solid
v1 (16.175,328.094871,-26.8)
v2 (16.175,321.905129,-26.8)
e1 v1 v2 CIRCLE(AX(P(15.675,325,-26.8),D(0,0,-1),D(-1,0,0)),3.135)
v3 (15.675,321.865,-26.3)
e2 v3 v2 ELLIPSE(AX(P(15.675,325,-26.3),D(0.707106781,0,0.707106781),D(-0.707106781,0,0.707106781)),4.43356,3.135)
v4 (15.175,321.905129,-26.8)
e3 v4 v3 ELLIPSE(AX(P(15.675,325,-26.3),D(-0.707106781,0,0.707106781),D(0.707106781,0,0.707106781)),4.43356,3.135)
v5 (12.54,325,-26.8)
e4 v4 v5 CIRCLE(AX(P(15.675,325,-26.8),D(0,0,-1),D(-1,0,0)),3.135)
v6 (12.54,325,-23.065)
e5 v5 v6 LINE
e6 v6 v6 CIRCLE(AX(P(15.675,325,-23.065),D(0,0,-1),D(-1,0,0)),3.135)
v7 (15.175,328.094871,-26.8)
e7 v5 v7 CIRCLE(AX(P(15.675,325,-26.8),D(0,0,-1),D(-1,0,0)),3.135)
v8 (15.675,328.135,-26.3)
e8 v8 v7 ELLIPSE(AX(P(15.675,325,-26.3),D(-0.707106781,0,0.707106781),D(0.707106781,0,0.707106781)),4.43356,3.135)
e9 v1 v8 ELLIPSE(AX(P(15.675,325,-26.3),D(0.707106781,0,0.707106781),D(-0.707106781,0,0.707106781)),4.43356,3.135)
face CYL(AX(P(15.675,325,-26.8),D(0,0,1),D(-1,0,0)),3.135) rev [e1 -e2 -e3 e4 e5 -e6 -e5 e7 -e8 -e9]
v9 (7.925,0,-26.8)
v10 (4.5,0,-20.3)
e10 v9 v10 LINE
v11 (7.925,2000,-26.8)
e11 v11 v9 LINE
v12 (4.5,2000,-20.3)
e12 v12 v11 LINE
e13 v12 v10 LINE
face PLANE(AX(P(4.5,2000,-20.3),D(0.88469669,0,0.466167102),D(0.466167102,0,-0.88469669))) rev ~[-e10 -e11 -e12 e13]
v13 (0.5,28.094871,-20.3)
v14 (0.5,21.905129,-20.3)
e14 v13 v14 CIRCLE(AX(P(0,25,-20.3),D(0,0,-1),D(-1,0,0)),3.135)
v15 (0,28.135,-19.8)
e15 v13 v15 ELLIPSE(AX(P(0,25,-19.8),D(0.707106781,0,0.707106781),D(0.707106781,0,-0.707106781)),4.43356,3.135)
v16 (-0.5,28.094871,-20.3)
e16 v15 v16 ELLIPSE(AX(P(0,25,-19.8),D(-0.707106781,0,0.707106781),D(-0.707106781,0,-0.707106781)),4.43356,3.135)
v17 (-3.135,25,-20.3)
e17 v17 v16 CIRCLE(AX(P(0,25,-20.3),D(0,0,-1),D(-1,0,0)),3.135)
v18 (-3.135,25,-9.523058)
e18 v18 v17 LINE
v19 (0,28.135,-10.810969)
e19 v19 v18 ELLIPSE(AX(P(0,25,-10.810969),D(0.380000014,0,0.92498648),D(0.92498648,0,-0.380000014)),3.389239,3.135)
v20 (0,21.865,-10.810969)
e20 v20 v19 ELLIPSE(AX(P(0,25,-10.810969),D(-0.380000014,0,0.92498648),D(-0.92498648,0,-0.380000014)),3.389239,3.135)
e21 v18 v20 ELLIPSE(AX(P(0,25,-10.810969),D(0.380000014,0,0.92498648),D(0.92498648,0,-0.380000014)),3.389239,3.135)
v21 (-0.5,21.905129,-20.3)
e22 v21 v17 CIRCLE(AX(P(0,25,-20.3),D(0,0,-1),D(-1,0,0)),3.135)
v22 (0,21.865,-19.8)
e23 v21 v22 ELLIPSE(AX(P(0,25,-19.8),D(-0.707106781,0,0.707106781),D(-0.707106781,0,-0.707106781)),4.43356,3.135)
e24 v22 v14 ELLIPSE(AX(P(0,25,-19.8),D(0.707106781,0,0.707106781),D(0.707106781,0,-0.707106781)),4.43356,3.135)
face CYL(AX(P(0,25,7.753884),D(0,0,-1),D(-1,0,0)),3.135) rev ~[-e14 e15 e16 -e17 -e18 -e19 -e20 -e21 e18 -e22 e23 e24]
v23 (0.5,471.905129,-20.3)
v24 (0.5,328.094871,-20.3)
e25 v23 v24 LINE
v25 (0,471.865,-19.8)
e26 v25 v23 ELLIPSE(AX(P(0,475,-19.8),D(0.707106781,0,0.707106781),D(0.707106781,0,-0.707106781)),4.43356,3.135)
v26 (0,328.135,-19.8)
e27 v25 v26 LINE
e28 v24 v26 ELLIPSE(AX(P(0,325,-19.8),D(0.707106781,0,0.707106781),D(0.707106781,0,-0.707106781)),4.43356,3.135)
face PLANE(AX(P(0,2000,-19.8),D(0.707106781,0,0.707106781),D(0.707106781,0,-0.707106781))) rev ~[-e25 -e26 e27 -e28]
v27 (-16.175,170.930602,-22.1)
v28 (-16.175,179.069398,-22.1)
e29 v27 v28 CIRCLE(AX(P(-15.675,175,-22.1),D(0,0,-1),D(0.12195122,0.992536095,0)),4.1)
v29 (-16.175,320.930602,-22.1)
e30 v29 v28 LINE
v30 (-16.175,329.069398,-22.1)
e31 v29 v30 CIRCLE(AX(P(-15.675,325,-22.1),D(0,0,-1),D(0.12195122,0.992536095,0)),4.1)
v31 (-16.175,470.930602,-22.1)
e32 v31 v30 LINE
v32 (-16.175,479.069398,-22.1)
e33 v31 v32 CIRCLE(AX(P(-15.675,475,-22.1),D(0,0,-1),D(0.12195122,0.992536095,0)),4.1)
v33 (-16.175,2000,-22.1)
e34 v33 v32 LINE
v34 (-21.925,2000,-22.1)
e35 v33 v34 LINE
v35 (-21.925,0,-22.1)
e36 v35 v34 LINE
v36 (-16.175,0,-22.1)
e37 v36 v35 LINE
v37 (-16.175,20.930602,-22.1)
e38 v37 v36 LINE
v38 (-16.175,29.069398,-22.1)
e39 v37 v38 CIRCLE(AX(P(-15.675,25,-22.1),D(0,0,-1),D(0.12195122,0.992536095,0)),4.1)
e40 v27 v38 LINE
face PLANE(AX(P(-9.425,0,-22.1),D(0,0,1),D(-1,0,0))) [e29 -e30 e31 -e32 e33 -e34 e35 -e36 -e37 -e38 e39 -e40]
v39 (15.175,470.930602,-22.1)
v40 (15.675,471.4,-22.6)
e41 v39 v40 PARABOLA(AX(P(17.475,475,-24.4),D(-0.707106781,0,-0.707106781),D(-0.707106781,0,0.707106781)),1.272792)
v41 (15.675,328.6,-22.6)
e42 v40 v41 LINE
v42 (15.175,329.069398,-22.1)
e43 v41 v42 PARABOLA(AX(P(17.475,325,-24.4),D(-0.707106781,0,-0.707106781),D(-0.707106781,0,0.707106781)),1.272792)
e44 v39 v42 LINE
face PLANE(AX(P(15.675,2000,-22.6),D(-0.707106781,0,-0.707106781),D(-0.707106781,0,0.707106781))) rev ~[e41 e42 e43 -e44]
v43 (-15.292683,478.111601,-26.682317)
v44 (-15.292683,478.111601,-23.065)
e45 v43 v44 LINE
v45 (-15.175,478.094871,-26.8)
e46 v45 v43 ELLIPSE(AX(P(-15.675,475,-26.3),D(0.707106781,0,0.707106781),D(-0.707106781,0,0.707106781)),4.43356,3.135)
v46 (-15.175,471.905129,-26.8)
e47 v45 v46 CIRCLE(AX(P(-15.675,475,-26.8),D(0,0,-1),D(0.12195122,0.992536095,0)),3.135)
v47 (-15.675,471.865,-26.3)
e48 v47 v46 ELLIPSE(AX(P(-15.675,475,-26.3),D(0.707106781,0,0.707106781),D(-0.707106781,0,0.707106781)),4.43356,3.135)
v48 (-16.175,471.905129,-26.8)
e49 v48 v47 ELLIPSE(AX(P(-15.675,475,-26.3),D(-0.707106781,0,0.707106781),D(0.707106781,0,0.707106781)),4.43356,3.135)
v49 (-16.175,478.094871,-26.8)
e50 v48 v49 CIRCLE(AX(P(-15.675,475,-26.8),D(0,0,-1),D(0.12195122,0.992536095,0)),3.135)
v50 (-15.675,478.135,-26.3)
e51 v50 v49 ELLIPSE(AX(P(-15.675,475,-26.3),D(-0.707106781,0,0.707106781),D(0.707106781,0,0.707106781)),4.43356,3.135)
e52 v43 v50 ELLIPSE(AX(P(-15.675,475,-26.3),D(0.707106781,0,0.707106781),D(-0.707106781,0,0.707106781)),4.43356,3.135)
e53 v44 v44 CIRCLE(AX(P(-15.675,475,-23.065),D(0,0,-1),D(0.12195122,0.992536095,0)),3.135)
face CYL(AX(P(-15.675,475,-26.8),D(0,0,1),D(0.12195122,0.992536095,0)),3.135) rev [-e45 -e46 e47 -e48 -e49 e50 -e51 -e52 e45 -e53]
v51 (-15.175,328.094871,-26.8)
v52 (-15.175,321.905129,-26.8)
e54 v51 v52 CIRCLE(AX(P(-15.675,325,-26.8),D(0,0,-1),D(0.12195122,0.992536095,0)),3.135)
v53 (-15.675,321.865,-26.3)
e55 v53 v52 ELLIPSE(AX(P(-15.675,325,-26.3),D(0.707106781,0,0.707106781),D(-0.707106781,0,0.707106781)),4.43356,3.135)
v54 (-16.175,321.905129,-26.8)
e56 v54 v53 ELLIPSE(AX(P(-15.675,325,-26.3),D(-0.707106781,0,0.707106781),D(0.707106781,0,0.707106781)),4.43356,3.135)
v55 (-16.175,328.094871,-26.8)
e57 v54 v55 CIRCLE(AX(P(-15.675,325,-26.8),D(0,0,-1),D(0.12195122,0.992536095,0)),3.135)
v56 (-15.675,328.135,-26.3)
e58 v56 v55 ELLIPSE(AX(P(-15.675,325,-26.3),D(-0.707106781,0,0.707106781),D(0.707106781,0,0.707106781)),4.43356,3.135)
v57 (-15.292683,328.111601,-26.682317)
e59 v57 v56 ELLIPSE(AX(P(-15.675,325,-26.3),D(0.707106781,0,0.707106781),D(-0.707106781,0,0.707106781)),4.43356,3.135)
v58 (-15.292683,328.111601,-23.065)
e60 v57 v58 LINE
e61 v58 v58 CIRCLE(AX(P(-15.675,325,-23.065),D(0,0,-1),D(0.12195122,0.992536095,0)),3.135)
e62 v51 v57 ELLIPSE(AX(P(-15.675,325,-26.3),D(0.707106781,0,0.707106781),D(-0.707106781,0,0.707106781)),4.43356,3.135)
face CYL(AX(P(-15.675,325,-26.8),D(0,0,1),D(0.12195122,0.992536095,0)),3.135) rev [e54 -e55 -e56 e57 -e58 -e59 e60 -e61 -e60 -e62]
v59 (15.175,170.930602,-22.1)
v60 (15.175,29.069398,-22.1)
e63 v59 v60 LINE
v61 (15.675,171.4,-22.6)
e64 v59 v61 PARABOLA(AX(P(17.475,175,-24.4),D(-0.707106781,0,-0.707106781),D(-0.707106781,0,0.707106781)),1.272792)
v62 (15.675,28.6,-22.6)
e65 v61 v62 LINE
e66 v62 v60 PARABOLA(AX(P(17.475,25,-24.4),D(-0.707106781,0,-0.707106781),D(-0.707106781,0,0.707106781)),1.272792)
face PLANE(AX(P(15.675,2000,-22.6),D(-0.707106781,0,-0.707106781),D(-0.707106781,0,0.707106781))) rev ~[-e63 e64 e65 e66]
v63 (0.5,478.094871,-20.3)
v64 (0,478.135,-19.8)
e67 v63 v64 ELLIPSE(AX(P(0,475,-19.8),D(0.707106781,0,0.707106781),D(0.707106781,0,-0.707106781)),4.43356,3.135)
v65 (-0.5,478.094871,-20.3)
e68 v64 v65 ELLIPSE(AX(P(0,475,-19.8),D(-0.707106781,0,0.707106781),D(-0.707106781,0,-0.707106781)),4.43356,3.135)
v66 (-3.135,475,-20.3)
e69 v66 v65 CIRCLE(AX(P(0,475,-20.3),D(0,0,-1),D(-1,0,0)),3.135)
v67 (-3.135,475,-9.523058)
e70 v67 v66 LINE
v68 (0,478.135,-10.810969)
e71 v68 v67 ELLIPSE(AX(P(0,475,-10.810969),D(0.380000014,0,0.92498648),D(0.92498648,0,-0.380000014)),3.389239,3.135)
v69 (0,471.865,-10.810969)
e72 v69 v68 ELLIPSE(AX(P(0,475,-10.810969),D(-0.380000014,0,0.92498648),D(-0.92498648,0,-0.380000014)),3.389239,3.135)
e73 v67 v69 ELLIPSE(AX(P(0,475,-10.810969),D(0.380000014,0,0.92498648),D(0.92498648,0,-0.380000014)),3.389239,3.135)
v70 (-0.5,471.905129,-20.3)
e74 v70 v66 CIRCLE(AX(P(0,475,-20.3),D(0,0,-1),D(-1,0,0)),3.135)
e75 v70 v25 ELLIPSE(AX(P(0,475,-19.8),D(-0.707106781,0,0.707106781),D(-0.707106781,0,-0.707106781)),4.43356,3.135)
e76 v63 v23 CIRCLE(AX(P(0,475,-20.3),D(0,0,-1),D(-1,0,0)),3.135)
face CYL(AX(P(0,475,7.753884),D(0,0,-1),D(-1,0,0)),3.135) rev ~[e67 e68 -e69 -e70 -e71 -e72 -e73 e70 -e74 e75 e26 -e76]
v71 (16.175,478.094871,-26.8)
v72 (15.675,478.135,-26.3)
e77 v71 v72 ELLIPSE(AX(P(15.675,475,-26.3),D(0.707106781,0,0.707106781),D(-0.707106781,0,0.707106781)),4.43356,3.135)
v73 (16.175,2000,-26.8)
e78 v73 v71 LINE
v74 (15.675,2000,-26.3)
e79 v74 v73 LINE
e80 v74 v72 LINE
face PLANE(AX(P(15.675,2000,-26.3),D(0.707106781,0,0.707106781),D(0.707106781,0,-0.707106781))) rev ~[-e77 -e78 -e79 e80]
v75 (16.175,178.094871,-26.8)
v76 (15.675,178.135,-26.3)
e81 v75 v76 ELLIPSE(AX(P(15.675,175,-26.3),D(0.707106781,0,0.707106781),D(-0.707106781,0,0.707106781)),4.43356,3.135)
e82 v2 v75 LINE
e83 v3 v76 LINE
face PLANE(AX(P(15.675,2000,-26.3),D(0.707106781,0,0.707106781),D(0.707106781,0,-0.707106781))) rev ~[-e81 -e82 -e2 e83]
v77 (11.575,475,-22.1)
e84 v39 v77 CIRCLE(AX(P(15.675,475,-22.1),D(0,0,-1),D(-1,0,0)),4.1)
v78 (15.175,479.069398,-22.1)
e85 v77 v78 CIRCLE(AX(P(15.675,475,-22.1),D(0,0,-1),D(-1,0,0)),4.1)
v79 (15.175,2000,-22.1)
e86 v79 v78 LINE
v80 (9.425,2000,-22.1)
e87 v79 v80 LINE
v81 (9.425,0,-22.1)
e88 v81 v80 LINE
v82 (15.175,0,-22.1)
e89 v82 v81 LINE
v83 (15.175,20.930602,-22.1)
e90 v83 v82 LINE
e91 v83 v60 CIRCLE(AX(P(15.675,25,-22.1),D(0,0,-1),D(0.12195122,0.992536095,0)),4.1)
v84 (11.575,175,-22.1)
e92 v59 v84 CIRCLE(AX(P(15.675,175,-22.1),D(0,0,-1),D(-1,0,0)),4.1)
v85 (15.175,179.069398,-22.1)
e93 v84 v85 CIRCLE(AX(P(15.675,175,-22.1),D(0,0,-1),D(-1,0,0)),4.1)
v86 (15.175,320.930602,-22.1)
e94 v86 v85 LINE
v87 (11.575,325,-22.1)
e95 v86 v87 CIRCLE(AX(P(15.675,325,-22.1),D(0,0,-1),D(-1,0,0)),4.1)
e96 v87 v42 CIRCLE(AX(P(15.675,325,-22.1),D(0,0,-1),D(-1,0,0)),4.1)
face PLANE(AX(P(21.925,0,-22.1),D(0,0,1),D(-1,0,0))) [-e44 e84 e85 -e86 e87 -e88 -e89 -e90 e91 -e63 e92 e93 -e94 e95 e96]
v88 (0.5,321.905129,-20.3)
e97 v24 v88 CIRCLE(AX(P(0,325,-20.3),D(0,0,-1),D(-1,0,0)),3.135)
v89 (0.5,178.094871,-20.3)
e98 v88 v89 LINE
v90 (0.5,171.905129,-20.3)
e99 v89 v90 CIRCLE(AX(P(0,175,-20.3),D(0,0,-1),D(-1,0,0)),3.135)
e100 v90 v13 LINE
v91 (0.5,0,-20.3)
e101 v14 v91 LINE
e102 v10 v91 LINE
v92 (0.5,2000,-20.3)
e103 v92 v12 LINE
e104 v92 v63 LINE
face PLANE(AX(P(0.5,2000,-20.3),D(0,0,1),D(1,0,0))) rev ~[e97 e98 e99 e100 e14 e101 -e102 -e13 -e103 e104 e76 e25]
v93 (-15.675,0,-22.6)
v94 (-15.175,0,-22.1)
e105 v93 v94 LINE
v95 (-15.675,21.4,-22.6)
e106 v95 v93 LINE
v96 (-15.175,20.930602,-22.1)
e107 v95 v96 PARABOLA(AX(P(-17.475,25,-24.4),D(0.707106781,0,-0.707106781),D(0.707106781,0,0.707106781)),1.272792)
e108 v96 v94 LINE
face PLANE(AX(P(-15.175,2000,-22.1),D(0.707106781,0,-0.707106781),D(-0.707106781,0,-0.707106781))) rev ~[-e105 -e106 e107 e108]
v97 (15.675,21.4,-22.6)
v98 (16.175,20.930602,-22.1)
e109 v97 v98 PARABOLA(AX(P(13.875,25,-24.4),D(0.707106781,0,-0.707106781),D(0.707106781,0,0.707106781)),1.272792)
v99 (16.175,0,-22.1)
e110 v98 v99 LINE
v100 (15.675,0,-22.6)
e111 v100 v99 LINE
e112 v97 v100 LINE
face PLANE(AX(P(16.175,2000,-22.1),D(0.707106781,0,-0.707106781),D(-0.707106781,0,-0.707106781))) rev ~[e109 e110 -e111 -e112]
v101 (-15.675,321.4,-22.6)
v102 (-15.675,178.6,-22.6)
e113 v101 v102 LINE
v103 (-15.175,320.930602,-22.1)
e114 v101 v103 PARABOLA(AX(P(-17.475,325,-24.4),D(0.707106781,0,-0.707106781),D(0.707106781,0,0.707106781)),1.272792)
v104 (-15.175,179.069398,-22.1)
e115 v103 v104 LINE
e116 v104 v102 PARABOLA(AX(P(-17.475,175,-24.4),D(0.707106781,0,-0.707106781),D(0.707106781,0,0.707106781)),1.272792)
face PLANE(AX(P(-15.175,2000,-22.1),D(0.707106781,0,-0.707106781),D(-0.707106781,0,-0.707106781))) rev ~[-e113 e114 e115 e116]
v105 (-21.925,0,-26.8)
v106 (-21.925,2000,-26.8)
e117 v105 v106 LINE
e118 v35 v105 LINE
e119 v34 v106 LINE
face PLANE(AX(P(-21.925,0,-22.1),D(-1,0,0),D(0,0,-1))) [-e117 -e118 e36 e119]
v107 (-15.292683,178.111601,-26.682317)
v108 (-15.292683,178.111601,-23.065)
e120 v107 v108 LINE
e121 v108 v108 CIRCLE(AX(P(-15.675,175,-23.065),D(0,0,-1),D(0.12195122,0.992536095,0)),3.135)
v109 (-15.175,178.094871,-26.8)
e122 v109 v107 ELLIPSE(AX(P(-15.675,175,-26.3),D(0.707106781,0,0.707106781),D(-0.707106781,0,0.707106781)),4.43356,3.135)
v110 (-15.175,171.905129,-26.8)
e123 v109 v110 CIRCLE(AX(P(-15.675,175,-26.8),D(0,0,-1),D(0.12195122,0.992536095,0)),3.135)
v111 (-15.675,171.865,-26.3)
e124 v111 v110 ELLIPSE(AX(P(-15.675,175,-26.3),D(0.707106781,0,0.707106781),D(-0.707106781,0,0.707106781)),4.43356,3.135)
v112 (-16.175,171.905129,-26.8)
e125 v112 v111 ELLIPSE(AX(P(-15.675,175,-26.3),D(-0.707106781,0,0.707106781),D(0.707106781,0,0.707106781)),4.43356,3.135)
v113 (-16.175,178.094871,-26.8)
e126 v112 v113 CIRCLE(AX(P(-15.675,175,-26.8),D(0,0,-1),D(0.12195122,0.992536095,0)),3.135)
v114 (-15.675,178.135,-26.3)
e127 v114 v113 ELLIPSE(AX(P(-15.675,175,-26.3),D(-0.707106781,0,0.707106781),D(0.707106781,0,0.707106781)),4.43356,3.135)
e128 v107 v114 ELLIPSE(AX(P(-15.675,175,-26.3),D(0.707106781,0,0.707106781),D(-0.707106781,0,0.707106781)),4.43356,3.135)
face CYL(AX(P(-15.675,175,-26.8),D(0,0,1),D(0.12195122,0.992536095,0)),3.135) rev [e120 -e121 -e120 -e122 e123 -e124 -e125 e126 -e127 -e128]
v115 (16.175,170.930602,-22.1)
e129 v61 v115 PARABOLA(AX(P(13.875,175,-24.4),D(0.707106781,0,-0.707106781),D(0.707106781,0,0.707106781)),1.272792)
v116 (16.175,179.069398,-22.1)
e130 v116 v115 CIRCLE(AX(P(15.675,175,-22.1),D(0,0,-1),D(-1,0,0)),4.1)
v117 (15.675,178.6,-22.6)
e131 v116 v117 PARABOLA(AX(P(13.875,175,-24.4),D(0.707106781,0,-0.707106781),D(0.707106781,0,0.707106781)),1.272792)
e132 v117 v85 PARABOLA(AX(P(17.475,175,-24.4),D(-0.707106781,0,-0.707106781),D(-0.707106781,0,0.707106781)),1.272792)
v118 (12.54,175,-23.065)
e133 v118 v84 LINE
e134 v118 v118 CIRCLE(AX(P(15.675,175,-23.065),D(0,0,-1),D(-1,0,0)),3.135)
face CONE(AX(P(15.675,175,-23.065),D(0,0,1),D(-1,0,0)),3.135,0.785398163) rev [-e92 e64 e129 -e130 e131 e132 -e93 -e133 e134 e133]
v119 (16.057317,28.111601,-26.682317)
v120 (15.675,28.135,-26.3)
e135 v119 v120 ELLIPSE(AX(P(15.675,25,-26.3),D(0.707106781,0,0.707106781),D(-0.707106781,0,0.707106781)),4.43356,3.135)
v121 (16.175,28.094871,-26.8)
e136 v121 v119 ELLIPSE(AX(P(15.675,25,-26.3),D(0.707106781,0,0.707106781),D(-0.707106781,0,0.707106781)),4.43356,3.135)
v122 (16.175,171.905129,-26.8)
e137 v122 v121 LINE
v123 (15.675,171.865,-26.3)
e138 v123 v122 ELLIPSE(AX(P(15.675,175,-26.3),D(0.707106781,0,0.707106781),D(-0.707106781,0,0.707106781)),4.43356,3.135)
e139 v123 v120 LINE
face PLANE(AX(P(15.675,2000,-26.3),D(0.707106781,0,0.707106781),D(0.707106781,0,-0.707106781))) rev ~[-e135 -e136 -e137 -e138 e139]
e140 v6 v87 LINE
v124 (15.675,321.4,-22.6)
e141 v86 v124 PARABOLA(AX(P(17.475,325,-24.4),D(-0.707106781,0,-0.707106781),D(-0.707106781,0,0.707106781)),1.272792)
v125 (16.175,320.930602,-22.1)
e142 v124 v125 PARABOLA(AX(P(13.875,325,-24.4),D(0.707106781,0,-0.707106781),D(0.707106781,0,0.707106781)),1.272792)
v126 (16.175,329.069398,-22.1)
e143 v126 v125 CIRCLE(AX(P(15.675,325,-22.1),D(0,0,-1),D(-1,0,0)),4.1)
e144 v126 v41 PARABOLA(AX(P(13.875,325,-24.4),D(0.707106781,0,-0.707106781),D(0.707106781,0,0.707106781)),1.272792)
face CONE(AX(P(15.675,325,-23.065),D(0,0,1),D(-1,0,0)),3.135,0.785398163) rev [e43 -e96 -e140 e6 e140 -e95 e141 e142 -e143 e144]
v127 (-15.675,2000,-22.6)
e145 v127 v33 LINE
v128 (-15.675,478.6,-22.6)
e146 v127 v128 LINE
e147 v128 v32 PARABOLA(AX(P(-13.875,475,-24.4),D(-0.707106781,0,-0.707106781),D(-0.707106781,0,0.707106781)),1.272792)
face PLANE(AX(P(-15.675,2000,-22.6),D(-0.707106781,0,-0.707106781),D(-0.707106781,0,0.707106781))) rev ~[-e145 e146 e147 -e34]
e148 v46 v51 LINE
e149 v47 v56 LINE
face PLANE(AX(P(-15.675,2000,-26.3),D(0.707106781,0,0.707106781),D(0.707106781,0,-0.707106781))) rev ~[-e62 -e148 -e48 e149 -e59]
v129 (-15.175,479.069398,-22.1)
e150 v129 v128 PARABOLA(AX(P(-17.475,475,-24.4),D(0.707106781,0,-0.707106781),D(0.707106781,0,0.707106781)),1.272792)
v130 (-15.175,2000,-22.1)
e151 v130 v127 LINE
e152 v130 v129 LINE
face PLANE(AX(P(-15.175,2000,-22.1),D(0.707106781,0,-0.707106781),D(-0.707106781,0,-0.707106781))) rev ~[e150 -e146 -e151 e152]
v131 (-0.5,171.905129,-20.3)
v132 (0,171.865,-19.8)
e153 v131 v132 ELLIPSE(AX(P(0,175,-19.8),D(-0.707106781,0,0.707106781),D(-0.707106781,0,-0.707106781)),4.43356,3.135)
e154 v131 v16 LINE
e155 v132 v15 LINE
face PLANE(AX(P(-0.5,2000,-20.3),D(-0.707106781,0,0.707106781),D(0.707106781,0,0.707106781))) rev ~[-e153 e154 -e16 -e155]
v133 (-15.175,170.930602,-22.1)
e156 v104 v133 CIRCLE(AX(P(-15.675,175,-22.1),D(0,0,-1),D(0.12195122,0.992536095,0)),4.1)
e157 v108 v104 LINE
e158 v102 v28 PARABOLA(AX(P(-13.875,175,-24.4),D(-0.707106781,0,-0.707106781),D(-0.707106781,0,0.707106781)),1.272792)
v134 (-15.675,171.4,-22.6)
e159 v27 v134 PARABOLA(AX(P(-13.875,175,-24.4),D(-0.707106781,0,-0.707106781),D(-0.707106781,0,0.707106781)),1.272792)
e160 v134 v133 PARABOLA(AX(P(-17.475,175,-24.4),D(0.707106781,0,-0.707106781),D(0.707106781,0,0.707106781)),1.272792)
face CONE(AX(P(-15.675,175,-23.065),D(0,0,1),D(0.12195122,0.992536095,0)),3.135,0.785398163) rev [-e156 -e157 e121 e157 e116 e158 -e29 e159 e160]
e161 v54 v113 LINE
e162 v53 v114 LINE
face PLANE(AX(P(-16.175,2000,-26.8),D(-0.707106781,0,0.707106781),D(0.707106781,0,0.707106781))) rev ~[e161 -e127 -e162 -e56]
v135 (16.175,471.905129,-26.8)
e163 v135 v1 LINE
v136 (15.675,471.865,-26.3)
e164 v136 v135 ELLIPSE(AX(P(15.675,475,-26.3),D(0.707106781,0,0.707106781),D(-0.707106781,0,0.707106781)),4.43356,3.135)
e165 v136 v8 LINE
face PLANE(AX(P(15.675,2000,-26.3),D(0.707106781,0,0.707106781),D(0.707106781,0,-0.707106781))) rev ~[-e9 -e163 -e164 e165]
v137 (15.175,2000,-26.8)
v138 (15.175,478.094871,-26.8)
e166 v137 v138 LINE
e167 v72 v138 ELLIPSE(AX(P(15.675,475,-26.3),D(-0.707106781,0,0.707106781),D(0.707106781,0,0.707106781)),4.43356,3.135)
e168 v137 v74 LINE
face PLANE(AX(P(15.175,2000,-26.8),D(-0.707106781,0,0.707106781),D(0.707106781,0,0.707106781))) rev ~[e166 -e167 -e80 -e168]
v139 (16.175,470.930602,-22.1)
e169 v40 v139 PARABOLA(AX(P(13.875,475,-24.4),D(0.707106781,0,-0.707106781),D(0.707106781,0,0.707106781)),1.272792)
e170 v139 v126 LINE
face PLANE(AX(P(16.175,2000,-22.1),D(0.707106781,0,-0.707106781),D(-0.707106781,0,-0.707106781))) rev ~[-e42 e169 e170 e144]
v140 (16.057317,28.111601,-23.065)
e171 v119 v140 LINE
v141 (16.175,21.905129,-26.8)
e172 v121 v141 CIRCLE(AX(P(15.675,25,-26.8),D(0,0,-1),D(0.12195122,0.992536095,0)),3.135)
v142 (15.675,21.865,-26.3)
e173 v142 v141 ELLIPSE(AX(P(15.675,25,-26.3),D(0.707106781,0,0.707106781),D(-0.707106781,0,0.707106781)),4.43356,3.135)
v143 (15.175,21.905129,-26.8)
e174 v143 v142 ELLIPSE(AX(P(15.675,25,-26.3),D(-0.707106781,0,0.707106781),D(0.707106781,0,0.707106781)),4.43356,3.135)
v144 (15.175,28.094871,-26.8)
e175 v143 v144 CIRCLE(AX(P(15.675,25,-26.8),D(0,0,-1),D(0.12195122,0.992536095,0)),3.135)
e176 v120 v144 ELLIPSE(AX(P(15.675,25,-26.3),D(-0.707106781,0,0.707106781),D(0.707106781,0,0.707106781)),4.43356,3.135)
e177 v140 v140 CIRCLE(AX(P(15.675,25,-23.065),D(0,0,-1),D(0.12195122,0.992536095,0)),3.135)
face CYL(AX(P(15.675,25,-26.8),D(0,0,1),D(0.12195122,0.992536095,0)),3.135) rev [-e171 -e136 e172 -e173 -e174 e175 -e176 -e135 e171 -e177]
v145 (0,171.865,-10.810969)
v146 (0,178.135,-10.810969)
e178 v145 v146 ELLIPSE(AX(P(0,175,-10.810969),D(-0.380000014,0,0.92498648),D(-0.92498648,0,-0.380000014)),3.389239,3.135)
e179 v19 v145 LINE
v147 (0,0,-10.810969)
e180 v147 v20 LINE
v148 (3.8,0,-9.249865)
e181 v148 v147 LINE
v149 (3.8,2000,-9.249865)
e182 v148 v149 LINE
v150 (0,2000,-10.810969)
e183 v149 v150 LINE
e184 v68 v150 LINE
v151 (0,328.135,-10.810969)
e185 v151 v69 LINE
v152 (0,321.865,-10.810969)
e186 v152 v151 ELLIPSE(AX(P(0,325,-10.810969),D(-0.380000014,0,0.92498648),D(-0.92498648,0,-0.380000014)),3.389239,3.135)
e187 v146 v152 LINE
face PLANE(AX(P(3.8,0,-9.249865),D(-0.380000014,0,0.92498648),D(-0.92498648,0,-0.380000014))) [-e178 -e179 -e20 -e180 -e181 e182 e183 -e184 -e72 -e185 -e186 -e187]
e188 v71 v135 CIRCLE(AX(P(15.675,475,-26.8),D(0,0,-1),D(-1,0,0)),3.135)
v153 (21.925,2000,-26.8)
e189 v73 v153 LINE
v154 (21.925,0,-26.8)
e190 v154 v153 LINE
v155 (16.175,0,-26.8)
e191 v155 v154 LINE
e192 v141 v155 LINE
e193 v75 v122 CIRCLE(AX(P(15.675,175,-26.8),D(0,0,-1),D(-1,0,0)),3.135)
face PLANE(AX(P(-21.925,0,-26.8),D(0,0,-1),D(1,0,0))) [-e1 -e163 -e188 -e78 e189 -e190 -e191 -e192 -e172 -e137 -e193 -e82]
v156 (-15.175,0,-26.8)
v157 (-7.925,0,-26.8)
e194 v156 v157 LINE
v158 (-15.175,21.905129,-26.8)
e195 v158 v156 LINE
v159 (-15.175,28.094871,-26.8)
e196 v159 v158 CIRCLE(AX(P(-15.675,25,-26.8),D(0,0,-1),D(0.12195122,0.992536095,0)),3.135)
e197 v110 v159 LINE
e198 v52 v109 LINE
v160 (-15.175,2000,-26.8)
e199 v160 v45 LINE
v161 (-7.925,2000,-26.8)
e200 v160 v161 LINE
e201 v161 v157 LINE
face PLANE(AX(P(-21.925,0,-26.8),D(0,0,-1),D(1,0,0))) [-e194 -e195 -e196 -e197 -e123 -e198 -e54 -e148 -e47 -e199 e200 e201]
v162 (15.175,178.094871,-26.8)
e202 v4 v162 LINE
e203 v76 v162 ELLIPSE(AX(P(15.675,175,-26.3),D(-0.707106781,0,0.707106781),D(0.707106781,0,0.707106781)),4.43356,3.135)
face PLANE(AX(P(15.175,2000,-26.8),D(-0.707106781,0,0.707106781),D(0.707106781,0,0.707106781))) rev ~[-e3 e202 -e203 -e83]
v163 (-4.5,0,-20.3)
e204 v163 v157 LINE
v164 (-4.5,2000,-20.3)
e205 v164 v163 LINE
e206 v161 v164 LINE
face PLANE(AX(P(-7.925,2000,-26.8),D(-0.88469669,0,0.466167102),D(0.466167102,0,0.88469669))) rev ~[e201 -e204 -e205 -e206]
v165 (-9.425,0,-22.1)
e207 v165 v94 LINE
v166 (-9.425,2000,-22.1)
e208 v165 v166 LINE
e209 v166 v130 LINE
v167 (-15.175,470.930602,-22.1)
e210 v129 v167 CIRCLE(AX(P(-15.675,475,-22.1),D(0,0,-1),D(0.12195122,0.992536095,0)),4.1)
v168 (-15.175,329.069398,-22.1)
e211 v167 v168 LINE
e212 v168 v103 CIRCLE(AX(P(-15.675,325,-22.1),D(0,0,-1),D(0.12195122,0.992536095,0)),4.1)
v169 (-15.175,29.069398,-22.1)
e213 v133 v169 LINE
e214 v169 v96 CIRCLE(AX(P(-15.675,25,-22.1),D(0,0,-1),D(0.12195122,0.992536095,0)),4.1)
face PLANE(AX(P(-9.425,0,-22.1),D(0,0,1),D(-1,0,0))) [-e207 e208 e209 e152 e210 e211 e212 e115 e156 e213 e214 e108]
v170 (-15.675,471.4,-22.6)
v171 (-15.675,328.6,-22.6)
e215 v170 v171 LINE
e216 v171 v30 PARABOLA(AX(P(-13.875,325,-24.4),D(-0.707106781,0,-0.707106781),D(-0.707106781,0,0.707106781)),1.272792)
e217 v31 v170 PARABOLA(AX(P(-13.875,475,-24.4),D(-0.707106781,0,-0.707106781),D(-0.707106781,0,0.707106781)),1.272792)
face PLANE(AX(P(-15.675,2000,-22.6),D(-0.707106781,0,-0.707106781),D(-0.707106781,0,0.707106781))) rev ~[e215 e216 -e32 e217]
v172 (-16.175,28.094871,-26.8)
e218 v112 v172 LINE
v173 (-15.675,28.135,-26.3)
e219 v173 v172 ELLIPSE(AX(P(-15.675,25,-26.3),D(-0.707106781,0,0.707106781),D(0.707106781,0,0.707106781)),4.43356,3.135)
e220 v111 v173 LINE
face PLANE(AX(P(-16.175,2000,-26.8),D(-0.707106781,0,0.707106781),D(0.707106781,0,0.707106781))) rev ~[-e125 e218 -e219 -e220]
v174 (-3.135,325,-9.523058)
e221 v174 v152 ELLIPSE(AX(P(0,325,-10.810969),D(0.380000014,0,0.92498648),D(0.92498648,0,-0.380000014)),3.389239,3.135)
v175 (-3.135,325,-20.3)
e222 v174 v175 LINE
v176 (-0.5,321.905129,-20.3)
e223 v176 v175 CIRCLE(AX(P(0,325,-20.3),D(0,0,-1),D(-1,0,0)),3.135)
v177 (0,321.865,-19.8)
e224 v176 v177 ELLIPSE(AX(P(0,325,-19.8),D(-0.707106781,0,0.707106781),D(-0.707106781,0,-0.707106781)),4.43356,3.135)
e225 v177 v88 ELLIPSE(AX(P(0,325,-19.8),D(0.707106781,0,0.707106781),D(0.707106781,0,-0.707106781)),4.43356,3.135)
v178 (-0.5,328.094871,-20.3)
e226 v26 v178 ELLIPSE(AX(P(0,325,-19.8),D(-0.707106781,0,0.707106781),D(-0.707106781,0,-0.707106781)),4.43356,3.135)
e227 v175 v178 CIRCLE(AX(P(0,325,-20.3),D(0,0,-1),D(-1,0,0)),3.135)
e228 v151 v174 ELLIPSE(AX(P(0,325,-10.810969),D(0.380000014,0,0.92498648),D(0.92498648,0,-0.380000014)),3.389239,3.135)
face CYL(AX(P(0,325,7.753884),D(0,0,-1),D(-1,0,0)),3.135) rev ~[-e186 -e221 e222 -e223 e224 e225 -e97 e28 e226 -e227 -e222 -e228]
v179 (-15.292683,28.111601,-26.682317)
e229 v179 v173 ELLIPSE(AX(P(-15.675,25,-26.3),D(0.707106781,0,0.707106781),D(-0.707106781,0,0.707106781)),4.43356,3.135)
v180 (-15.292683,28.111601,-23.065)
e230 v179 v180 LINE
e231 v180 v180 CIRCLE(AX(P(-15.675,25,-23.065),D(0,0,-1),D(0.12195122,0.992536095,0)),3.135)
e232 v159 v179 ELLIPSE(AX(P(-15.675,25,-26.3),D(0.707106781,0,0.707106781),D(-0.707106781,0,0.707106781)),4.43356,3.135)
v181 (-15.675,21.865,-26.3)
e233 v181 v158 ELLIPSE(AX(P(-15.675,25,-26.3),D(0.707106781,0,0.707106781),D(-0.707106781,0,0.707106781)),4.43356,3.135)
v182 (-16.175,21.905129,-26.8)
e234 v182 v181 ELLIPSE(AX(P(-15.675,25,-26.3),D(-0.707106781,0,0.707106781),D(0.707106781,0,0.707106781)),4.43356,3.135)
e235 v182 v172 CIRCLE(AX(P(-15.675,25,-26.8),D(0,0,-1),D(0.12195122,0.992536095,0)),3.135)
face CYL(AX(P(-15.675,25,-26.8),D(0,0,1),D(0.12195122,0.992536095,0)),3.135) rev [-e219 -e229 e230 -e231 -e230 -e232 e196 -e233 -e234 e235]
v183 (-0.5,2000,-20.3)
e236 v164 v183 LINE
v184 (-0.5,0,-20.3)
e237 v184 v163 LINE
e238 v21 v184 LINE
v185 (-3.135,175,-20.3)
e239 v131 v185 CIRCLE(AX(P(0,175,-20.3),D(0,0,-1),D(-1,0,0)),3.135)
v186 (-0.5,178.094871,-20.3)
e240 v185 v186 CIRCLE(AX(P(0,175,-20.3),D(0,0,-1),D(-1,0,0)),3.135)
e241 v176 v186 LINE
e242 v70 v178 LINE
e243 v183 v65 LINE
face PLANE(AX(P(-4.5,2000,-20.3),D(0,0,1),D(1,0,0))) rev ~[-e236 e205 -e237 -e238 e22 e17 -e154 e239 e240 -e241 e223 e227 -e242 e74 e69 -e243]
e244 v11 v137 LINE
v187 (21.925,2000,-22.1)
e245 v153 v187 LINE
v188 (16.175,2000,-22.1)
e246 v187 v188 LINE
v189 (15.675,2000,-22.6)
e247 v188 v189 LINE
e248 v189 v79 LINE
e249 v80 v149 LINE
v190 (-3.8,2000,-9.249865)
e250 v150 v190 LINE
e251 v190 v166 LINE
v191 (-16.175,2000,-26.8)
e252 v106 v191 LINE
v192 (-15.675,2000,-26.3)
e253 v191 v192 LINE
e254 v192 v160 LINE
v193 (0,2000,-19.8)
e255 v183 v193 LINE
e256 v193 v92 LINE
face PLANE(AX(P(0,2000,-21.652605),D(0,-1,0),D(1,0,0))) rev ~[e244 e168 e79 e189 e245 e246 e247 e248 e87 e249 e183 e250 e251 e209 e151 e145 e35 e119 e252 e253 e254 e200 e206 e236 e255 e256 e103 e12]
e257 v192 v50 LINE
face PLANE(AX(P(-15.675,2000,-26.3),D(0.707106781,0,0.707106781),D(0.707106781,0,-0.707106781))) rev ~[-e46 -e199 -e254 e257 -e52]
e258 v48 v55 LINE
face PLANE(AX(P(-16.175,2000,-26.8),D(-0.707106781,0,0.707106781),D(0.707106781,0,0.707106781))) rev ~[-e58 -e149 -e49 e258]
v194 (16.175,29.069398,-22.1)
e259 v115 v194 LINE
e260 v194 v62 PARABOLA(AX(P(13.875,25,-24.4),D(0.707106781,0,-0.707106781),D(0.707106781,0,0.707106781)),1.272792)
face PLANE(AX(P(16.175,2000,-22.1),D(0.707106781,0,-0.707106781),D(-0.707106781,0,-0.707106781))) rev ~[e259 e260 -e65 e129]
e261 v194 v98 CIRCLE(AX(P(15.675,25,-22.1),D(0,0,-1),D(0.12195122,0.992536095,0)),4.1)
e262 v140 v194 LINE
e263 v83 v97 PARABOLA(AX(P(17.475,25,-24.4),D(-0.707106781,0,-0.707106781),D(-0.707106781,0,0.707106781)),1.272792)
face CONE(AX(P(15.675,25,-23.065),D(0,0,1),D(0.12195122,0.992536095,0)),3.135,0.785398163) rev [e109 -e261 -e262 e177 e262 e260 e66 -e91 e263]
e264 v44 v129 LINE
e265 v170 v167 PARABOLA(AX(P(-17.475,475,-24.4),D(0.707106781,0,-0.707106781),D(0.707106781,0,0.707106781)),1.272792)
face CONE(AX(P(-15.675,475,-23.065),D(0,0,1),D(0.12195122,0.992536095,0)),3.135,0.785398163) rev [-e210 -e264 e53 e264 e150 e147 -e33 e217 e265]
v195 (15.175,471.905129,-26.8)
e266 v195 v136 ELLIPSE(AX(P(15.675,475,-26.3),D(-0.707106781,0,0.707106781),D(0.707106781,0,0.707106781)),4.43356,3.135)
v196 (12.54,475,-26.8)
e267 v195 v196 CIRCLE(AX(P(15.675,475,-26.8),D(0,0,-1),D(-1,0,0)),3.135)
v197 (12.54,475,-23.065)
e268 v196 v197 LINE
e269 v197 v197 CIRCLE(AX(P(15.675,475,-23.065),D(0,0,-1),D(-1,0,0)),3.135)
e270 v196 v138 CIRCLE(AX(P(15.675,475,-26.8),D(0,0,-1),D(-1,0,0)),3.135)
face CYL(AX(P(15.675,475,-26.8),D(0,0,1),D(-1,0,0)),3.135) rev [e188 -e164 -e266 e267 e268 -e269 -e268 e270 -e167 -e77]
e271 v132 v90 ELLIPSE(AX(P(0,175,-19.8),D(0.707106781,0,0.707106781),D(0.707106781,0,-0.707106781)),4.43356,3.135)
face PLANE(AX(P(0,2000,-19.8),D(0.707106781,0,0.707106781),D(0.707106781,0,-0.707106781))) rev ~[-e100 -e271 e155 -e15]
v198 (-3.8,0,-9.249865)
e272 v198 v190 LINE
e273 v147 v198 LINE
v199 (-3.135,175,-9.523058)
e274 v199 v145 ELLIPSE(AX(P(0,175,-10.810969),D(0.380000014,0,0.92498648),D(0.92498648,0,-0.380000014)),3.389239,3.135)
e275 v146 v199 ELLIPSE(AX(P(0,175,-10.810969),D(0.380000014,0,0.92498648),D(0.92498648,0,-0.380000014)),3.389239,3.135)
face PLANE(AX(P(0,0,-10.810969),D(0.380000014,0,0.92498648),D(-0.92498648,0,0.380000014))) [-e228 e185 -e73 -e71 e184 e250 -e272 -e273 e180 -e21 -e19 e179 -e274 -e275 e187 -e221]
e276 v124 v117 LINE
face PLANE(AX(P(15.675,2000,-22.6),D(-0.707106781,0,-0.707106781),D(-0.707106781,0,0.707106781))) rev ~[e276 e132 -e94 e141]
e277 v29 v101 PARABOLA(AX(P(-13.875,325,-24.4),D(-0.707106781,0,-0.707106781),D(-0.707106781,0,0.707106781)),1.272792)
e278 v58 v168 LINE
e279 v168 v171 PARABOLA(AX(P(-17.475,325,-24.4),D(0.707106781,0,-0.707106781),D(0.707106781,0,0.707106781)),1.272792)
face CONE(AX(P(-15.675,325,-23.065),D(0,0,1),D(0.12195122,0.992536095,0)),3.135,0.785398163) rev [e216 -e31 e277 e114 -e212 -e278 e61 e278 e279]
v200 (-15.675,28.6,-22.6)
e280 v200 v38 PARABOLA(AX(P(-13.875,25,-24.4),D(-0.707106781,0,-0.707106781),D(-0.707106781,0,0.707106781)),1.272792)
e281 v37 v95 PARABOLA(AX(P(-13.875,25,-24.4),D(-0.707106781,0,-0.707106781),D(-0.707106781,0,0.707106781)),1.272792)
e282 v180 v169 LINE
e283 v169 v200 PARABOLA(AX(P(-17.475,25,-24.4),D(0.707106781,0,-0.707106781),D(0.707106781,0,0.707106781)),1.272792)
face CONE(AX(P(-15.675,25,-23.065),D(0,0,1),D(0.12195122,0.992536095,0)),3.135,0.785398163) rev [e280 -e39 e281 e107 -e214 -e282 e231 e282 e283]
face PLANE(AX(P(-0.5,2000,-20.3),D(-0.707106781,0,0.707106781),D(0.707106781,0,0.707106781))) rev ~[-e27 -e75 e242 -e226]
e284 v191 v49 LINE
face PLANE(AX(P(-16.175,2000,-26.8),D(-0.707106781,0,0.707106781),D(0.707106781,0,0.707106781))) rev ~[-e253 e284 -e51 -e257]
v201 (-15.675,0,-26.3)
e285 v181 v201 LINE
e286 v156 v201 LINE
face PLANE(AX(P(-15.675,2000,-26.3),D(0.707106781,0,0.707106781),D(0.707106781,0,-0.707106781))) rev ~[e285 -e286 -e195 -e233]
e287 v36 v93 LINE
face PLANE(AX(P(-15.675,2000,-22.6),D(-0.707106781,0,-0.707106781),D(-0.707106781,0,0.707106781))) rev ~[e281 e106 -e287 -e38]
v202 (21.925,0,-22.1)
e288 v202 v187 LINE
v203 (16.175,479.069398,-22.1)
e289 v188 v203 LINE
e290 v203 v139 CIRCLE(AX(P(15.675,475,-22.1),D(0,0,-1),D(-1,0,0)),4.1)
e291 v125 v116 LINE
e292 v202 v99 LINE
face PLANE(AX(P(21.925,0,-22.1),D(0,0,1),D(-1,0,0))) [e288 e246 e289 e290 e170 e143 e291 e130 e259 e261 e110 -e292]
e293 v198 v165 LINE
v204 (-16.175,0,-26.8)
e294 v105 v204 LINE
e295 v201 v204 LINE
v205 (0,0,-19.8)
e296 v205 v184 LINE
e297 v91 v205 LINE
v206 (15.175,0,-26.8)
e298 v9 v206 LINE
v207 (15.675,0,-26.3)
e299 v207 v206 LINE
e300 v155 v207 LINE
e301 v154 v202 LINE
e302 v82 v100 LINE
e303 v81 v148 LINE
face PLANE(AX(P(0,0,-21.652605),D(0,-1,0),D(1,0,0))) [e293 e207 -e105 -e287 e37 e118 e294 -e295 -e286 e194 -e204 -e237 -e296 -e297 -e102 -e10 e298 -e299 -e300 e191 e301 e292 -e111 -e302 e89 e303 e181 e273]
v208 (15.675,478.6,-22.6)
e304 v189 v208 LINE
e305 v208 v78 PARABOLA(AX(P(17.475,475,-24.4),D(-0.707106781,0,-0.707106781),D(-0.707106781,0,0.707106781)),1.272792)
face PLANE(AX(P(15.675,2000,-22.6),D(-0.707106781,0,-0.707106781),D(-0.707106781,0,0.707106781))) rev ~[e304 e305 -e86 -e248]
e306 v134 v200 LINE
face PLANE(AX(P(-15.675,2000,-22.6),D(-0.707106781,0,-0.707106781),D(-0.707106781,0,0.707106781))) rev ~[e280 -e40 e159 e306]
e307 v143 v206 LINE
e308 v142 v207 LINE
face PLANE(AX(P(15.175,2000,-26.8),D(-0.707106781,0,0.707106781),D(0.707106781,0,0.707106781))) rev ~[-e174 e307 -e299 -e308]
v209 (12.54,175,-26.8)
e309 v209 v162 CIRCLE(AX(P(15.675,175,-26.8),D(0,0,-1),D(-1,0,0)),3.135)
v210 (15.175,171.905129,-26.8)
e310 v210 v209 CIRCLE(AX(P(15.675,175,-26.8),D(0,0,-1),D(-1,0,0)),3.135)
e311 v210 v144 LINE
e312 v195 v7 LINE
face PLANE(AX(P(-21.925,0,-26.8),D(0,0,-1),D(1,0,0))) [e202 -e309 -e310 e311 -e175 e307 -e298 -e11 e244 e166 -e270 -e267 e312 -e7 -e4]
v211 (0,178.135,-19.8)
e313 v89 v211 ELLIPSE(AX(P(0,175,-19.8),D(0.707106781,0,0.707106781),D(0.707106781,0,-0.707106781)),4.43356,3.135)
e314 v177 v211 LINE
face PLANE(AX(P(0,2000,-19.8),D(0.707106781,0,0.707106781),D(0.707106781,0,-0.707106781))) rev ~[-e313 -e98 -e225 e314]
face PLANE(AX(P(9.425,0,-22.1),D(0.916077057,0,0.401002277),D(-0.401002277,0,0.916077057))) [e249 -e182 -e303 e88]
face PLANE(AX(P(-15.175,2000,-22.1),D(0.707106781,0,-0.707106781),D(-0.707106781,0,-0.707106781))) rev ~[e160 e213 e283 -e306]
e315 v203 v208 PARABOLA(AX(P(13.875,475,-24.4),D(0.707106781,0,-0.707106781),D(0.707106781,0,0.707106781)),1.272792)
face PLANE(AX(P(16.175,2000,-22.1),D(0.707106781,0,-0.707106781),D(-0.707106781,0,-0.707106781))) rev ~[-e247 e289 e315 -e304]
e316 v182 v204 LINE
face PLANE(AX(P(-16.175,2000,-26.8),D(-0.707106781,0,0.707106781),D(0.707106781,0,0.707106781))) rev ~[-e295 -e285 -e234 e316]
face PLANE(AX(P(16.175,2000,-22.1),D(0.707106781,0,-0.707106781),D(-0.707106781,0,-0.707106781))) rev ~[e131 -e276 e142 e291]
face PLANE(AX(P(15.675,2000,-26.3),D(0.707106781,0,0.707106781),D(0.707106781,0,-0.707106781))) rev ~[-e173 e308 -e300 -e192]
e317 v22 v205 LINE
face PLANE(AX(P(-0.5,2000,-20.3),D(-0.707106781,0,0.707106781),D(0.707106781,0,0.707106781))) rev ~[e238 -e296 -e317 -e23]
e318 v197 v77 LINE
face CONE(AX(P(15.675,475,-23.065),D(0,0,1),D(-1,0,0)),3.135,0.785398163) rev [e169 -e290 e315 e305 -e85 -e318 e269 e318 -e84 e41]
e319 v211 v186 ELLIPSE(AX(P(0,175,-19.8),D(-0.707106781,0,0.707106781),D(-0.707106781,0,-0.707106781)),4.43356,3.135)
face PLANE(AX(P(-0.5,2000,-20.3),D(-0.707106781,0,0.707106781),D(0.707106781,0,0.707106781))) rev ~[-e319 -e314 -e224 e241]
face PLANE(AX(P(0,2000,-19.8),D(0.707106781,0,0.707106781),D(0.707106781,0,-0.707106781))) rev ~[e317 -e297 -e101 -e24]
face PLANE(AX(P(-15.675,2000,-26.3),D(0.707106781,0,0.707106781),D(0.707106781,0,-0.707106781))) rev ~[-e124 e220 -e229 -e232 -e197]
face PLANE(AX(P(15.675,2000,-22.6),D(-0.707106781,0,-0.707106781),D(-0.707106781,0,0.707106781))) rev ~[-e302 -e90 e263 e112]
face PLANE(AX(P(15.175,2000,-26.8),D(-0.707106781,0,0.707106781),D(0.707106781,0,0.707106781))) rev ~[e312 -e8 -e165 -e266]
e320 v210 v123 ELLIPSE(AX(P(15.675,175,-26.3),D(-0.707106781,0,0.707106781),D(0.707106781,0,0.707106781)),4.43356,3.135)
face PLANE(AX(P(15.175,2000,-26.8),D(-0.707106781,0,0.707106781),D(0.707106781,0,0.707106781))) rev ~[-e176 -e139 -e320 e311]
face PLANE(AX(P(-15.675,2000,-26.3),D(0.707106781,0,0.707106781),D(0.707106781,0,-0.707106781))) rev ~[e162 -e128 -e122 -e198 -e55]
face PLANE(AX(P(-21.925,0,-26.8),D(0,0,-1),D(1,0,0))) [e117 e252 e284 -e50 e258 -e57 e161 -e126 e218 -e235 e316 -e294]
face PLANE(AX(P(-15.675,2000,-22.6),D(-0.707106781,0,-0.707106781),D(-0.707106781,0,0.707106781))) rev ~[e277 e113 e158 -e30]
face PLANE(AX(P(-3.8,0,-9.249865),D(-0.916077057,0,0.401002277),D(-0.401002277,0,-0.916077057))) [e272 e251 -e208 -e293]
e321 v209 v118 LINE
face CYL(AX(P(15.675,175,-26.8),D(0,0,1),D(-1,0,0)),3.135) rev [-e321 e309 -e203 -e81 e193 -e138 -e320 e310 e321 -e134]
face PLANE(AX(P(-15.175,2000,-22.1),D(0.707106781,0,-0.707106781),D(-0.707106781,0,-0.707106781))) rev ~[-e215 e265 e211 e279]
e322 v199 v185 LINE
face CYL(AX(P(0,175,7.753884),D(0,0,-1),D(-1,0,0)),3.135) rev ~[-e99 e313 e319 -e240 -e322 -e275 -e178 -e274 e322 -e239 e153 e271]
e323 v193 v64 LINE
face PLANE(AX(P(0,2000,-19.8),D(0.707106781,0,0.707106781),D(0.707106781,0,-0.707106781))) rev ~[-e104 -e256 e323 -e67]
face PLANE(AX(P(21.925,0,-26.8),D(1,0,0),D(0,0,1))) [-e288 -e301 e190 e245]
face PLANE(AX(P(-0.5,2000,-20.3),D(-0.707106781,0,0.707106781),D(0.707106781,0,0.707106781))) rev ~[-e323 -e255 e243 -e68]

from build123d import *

# Parameters (mm, degrees)
RESSALTO_EXTRUS_O1_DEPTH = 2000
CORTE_EXTRUS_O1_DEPTH    = 2001.299713949
CORTE_EXTRUS_O2_DEPTH    = 2001.299713949
CORTE_EXTRUS_O3_DEPTH    = 2001.299713949
CORTE_EXTRUS_O4_DEPTH    = 2001.299713949
CORTE_EXTRUS_O5_DEPTH    = 2001.299713949
FURO1_D                  = 6.27
FURO1_DEPTH              = 17.276941944


with BuildPart() as part:
    # Esboço1 → Ressalto-extrusão1 (new body)
    with BuildSketch(Plane.XZ):
        Polygon((-21.925, -26.8), (21.925, -26.8), (21.925, -22.1), (9.425, -22.1), (3.8, -9.249864864), (0, -10.810968821), (-3.8, -9.249864864), (-9.425, -22.1), (-21.925, -22.1), align=None)
    extrude(amount=-RESSALTO_EXTRUS_O1_DEPTH)

    # Esboço2 → Corte-extrusão1 (cut, through all)
    with BuildSketch(Plane(origin=(0, 2000, 0), x_dir=(-1, 0, 0), z_dir=(0, 1, 0))):
        Polygon((-7.925, -26.8), (7.925, -26.8), (4.5, -20.3), (0.5, -20.3), (0, -19.8), (-0.5, -20.3), (-4.5, -20.3), align=None)
    extrude(amount=-CORTE_EXTRUS_O1_DEPTH, mode=Mode.SUBTRACT)

    # Esboço3 → Corte-extrusão2 (cut, through all)
    with BuildSketch(Plane(origin=(0, 2000, 0), x_dir=(-1, 0, 0), z_dir=(0, 1, 0))):
        Polygon((-15.175, -26.8), (-15.675, -26.3), (-16.175, -26.8), align=None)
    extrude(amount=-CORTE_EXTRUS_O2_DEPTH, mode=Mode.SUBTRACT)

    # Esboço4 → Corte-extrusão3 (cut, through all)
    with BuildSketch(Plane(origin=(0, 2000, 0), x_dir=(-1, 0, 0), z_dir=(0, 1, 0))):
        Polygon((-15.175, -22.1), (-16.175, -22.1), (-15.675, -22.6), align=None)
    extrude(amount=-CORTE_EXTRUS_O3_DEPTH, mode=Mode.SUBTRACT)

    # Esboço5 → Corte-extrusão4 (cut, through all)
    with BuildSketch(Plane(origin=(0, 2000, 0), x_dir=(-1, 0, 0), z_dir=(0, 1, 0))):
        Polygon((16.175, -22.1), (15.175, -22.1), (15.675, -22.6), align=None)
    extrude(amount=-CORTE_EXTRUS_O4_DEPTH, mode=Mode.SUBTRACT)

    # Esboço6 → Corte-extrusão5 (cut, through all)
    with BuildSketch(Plane(origin=(0, 2000, 0), x_dir=(-1, 0, 0), z_dir=(0, 1, 0))):
        Polygon((15.175, -26.8), (16.175, -26.8), (15.675, -26.3), align=None)
    extrude(amount=-CORTE_EXTRUS_O5_DEPTH, mode=Mode.SUBTRACT)

    # Esboço7 → Corte-Revolução1 (revolve, cut)
    with BuildSketch(Plane.XZ.offset(-325), mode=Mode.PRIVATE) as corte_revolu_o1_sk:
        Polygon((19.775, -22.1), (15.675, -22.1), (15.675, -26.8), (18.81, -26.8), (18.81, -23.065), align=None)
    revolve(corte_revolu_o1_sk.sketch.rotate(Axis((15.675, 325, -22.1), (0, 0, -1)), 180), axis=Axis((15.675, 325, -22.1), (0, 0, -1)), mode=Mode.SUBTRACT)

    # Esboço8 → Corte-Revolução2 (revolve, cut)
    with BuildSketch(Plane.XZ.offset(-475), mode=Mode.PRIVATE) as corte_revolu_o2_sk:
        Polygon((19.775, -22.1), (15.675, -22.1), (15.675, -26.8), (18.81, -26.8), (18.81, -23.065), align=None)
    revolve(corte_revolu_o2_sk.sketch.rotate(Axis((15.675, 475, -22.1), (0, 0, -1)), 180), axis=Axis((15.675, 475, -22.1), (0, 0, -1)), mode=Mode.SUBTRACT)

    # Esboço9 → Corte-Revolução3 (revolve, cut)
    with BuildSketch(Plane.XZ.offset(-25), mode=Mode.PRIVATE) as corte_revolu_o3_sk:
        Polygon((19.775, -22.1), (15.675, -22.1), (15.675, -26.8), (18.81, -26.8), (18.81, -23.065), align=None)
    revolve(corte_revolu_o3_sk.sketch.rotate(Axis((15.675, 25, -22.1), (0, 0, -1)), 277.004726435), axis=Axis((15.675, 25, -22.1), (0, 0, -1)), mode=Mode.SUBTRACT)

    # Esboço10 → Corte-Revolução4 (revolve, cut)
    with BuildSketch(Plane.XZ.offset(-175), mode=Mode.PRIVATE) as corte_revolu_o4_sk:
        Polygon((19.775, -22.1), (15.675, -22.1), (15.675, -26.8), (18.81, -26.8), (18.81, -23.065), align=None)
    revolve(corte_revolu_o4_sk.sketch.rotate(Axis((15.675, 175, -22.1), (0, 0, -1)), 180), axis=Axis((15.675, 175, -22.1), (0, 0, -1)), mode=Mode.SUBTRACT)

    # Esboço11 → Corte-Revolução5 (revolve, cut)
    with BuildSketch(Plane.XZ.offset(-175), mode=Mode.PRIVATE) as corte_revolu_o5_sk:
        Polygon((-11.575, -22.1), (-15.675, -22.1), (-15.675, -26.8), (-12.54, -26.8), (-12.54, -23.065), align=None)
    revolve(corte_revolu_o5_sk.sketch.rotate(Axis((-15.675, 175, -22.1), (0, 0, -1)), 277.004726436), axis=Axis((-15.675, 175, -22.1), (0, 0, -1)), mode=Mode.SUBTRACT)

    # Esboço12 → Corte-Revolução6 (revolve, cut)
    with BuildSketch(Plane.XZ.offset(-325), mode=Mode.PRIVATE) as corte_revolu_o6_sk:
        Polygon((-11.575, -22.1), (-15.675, -22.1), (-15.675, -26.8), (-12.54, -26.8), (-12.54, -23.065), align=None)
    revolve(corte_revolu_o6_sk.sketch.rotate(Axis((-15.675, 325, -22.1), (0, 0, -1)), 277.004726436), axis=Axis((-15.675, 325, -22.1), (0, 0, -1)), mode=Mode.SUBTRACT)

    # Esboço13 → Corte-Revolução7 (revolve, cut)
    with BuildSketch(Plane.XZ.offset(-475), mode=Mode.PRIVATE) as corte_revolu_o7_sk:
        Polygon((-11.575, -22.1), (-15.675, -22.1), (-15.675, -26.8), (-12.54, -26.8), (-12.54, -23.065), align=None)
    revolve(corte_revolu_o7_sk.sketch.rotate(Axis((-15.675, 475, -22.1), (0, 0, -1)), 277.004726436), axis=Axis((-15.675, 475, -22.1), (0, 0, -1)), mode=Mode.SUBTRACT)

    # Esboço14 → Corte-Revolução8 (revolve, cut)
    with BuildSketch(Plane.XZ.offset(-25), mode=Mode.PRIVATE) as corte_revolu_o8_sk:
        Polygon((-11.575, -22.1), (-15.675, -22.1), (-15.675, -26.8), (-12.54, -26.8), (-12.54, -23.065), align=None)
    revolve(corte_revolu_o8_sk.sketch.rotate(Axis((-15.675, 25, -22.1), (0, 0, -1)), 277.004726436), axis=Axis((-15.675, 25, -22.1), (0, 0, -1)), mode=Mode.SUBTRACT)

    # Furo1
    with Locations(Plane.XY.offset(-9.523058056)):
        with Locations((0, 175), (0, 25), (0, 475), (0, 325)):
            Hole(FURO1_D / 2, depth=FURO1_DEPTH)


solid = part.part
